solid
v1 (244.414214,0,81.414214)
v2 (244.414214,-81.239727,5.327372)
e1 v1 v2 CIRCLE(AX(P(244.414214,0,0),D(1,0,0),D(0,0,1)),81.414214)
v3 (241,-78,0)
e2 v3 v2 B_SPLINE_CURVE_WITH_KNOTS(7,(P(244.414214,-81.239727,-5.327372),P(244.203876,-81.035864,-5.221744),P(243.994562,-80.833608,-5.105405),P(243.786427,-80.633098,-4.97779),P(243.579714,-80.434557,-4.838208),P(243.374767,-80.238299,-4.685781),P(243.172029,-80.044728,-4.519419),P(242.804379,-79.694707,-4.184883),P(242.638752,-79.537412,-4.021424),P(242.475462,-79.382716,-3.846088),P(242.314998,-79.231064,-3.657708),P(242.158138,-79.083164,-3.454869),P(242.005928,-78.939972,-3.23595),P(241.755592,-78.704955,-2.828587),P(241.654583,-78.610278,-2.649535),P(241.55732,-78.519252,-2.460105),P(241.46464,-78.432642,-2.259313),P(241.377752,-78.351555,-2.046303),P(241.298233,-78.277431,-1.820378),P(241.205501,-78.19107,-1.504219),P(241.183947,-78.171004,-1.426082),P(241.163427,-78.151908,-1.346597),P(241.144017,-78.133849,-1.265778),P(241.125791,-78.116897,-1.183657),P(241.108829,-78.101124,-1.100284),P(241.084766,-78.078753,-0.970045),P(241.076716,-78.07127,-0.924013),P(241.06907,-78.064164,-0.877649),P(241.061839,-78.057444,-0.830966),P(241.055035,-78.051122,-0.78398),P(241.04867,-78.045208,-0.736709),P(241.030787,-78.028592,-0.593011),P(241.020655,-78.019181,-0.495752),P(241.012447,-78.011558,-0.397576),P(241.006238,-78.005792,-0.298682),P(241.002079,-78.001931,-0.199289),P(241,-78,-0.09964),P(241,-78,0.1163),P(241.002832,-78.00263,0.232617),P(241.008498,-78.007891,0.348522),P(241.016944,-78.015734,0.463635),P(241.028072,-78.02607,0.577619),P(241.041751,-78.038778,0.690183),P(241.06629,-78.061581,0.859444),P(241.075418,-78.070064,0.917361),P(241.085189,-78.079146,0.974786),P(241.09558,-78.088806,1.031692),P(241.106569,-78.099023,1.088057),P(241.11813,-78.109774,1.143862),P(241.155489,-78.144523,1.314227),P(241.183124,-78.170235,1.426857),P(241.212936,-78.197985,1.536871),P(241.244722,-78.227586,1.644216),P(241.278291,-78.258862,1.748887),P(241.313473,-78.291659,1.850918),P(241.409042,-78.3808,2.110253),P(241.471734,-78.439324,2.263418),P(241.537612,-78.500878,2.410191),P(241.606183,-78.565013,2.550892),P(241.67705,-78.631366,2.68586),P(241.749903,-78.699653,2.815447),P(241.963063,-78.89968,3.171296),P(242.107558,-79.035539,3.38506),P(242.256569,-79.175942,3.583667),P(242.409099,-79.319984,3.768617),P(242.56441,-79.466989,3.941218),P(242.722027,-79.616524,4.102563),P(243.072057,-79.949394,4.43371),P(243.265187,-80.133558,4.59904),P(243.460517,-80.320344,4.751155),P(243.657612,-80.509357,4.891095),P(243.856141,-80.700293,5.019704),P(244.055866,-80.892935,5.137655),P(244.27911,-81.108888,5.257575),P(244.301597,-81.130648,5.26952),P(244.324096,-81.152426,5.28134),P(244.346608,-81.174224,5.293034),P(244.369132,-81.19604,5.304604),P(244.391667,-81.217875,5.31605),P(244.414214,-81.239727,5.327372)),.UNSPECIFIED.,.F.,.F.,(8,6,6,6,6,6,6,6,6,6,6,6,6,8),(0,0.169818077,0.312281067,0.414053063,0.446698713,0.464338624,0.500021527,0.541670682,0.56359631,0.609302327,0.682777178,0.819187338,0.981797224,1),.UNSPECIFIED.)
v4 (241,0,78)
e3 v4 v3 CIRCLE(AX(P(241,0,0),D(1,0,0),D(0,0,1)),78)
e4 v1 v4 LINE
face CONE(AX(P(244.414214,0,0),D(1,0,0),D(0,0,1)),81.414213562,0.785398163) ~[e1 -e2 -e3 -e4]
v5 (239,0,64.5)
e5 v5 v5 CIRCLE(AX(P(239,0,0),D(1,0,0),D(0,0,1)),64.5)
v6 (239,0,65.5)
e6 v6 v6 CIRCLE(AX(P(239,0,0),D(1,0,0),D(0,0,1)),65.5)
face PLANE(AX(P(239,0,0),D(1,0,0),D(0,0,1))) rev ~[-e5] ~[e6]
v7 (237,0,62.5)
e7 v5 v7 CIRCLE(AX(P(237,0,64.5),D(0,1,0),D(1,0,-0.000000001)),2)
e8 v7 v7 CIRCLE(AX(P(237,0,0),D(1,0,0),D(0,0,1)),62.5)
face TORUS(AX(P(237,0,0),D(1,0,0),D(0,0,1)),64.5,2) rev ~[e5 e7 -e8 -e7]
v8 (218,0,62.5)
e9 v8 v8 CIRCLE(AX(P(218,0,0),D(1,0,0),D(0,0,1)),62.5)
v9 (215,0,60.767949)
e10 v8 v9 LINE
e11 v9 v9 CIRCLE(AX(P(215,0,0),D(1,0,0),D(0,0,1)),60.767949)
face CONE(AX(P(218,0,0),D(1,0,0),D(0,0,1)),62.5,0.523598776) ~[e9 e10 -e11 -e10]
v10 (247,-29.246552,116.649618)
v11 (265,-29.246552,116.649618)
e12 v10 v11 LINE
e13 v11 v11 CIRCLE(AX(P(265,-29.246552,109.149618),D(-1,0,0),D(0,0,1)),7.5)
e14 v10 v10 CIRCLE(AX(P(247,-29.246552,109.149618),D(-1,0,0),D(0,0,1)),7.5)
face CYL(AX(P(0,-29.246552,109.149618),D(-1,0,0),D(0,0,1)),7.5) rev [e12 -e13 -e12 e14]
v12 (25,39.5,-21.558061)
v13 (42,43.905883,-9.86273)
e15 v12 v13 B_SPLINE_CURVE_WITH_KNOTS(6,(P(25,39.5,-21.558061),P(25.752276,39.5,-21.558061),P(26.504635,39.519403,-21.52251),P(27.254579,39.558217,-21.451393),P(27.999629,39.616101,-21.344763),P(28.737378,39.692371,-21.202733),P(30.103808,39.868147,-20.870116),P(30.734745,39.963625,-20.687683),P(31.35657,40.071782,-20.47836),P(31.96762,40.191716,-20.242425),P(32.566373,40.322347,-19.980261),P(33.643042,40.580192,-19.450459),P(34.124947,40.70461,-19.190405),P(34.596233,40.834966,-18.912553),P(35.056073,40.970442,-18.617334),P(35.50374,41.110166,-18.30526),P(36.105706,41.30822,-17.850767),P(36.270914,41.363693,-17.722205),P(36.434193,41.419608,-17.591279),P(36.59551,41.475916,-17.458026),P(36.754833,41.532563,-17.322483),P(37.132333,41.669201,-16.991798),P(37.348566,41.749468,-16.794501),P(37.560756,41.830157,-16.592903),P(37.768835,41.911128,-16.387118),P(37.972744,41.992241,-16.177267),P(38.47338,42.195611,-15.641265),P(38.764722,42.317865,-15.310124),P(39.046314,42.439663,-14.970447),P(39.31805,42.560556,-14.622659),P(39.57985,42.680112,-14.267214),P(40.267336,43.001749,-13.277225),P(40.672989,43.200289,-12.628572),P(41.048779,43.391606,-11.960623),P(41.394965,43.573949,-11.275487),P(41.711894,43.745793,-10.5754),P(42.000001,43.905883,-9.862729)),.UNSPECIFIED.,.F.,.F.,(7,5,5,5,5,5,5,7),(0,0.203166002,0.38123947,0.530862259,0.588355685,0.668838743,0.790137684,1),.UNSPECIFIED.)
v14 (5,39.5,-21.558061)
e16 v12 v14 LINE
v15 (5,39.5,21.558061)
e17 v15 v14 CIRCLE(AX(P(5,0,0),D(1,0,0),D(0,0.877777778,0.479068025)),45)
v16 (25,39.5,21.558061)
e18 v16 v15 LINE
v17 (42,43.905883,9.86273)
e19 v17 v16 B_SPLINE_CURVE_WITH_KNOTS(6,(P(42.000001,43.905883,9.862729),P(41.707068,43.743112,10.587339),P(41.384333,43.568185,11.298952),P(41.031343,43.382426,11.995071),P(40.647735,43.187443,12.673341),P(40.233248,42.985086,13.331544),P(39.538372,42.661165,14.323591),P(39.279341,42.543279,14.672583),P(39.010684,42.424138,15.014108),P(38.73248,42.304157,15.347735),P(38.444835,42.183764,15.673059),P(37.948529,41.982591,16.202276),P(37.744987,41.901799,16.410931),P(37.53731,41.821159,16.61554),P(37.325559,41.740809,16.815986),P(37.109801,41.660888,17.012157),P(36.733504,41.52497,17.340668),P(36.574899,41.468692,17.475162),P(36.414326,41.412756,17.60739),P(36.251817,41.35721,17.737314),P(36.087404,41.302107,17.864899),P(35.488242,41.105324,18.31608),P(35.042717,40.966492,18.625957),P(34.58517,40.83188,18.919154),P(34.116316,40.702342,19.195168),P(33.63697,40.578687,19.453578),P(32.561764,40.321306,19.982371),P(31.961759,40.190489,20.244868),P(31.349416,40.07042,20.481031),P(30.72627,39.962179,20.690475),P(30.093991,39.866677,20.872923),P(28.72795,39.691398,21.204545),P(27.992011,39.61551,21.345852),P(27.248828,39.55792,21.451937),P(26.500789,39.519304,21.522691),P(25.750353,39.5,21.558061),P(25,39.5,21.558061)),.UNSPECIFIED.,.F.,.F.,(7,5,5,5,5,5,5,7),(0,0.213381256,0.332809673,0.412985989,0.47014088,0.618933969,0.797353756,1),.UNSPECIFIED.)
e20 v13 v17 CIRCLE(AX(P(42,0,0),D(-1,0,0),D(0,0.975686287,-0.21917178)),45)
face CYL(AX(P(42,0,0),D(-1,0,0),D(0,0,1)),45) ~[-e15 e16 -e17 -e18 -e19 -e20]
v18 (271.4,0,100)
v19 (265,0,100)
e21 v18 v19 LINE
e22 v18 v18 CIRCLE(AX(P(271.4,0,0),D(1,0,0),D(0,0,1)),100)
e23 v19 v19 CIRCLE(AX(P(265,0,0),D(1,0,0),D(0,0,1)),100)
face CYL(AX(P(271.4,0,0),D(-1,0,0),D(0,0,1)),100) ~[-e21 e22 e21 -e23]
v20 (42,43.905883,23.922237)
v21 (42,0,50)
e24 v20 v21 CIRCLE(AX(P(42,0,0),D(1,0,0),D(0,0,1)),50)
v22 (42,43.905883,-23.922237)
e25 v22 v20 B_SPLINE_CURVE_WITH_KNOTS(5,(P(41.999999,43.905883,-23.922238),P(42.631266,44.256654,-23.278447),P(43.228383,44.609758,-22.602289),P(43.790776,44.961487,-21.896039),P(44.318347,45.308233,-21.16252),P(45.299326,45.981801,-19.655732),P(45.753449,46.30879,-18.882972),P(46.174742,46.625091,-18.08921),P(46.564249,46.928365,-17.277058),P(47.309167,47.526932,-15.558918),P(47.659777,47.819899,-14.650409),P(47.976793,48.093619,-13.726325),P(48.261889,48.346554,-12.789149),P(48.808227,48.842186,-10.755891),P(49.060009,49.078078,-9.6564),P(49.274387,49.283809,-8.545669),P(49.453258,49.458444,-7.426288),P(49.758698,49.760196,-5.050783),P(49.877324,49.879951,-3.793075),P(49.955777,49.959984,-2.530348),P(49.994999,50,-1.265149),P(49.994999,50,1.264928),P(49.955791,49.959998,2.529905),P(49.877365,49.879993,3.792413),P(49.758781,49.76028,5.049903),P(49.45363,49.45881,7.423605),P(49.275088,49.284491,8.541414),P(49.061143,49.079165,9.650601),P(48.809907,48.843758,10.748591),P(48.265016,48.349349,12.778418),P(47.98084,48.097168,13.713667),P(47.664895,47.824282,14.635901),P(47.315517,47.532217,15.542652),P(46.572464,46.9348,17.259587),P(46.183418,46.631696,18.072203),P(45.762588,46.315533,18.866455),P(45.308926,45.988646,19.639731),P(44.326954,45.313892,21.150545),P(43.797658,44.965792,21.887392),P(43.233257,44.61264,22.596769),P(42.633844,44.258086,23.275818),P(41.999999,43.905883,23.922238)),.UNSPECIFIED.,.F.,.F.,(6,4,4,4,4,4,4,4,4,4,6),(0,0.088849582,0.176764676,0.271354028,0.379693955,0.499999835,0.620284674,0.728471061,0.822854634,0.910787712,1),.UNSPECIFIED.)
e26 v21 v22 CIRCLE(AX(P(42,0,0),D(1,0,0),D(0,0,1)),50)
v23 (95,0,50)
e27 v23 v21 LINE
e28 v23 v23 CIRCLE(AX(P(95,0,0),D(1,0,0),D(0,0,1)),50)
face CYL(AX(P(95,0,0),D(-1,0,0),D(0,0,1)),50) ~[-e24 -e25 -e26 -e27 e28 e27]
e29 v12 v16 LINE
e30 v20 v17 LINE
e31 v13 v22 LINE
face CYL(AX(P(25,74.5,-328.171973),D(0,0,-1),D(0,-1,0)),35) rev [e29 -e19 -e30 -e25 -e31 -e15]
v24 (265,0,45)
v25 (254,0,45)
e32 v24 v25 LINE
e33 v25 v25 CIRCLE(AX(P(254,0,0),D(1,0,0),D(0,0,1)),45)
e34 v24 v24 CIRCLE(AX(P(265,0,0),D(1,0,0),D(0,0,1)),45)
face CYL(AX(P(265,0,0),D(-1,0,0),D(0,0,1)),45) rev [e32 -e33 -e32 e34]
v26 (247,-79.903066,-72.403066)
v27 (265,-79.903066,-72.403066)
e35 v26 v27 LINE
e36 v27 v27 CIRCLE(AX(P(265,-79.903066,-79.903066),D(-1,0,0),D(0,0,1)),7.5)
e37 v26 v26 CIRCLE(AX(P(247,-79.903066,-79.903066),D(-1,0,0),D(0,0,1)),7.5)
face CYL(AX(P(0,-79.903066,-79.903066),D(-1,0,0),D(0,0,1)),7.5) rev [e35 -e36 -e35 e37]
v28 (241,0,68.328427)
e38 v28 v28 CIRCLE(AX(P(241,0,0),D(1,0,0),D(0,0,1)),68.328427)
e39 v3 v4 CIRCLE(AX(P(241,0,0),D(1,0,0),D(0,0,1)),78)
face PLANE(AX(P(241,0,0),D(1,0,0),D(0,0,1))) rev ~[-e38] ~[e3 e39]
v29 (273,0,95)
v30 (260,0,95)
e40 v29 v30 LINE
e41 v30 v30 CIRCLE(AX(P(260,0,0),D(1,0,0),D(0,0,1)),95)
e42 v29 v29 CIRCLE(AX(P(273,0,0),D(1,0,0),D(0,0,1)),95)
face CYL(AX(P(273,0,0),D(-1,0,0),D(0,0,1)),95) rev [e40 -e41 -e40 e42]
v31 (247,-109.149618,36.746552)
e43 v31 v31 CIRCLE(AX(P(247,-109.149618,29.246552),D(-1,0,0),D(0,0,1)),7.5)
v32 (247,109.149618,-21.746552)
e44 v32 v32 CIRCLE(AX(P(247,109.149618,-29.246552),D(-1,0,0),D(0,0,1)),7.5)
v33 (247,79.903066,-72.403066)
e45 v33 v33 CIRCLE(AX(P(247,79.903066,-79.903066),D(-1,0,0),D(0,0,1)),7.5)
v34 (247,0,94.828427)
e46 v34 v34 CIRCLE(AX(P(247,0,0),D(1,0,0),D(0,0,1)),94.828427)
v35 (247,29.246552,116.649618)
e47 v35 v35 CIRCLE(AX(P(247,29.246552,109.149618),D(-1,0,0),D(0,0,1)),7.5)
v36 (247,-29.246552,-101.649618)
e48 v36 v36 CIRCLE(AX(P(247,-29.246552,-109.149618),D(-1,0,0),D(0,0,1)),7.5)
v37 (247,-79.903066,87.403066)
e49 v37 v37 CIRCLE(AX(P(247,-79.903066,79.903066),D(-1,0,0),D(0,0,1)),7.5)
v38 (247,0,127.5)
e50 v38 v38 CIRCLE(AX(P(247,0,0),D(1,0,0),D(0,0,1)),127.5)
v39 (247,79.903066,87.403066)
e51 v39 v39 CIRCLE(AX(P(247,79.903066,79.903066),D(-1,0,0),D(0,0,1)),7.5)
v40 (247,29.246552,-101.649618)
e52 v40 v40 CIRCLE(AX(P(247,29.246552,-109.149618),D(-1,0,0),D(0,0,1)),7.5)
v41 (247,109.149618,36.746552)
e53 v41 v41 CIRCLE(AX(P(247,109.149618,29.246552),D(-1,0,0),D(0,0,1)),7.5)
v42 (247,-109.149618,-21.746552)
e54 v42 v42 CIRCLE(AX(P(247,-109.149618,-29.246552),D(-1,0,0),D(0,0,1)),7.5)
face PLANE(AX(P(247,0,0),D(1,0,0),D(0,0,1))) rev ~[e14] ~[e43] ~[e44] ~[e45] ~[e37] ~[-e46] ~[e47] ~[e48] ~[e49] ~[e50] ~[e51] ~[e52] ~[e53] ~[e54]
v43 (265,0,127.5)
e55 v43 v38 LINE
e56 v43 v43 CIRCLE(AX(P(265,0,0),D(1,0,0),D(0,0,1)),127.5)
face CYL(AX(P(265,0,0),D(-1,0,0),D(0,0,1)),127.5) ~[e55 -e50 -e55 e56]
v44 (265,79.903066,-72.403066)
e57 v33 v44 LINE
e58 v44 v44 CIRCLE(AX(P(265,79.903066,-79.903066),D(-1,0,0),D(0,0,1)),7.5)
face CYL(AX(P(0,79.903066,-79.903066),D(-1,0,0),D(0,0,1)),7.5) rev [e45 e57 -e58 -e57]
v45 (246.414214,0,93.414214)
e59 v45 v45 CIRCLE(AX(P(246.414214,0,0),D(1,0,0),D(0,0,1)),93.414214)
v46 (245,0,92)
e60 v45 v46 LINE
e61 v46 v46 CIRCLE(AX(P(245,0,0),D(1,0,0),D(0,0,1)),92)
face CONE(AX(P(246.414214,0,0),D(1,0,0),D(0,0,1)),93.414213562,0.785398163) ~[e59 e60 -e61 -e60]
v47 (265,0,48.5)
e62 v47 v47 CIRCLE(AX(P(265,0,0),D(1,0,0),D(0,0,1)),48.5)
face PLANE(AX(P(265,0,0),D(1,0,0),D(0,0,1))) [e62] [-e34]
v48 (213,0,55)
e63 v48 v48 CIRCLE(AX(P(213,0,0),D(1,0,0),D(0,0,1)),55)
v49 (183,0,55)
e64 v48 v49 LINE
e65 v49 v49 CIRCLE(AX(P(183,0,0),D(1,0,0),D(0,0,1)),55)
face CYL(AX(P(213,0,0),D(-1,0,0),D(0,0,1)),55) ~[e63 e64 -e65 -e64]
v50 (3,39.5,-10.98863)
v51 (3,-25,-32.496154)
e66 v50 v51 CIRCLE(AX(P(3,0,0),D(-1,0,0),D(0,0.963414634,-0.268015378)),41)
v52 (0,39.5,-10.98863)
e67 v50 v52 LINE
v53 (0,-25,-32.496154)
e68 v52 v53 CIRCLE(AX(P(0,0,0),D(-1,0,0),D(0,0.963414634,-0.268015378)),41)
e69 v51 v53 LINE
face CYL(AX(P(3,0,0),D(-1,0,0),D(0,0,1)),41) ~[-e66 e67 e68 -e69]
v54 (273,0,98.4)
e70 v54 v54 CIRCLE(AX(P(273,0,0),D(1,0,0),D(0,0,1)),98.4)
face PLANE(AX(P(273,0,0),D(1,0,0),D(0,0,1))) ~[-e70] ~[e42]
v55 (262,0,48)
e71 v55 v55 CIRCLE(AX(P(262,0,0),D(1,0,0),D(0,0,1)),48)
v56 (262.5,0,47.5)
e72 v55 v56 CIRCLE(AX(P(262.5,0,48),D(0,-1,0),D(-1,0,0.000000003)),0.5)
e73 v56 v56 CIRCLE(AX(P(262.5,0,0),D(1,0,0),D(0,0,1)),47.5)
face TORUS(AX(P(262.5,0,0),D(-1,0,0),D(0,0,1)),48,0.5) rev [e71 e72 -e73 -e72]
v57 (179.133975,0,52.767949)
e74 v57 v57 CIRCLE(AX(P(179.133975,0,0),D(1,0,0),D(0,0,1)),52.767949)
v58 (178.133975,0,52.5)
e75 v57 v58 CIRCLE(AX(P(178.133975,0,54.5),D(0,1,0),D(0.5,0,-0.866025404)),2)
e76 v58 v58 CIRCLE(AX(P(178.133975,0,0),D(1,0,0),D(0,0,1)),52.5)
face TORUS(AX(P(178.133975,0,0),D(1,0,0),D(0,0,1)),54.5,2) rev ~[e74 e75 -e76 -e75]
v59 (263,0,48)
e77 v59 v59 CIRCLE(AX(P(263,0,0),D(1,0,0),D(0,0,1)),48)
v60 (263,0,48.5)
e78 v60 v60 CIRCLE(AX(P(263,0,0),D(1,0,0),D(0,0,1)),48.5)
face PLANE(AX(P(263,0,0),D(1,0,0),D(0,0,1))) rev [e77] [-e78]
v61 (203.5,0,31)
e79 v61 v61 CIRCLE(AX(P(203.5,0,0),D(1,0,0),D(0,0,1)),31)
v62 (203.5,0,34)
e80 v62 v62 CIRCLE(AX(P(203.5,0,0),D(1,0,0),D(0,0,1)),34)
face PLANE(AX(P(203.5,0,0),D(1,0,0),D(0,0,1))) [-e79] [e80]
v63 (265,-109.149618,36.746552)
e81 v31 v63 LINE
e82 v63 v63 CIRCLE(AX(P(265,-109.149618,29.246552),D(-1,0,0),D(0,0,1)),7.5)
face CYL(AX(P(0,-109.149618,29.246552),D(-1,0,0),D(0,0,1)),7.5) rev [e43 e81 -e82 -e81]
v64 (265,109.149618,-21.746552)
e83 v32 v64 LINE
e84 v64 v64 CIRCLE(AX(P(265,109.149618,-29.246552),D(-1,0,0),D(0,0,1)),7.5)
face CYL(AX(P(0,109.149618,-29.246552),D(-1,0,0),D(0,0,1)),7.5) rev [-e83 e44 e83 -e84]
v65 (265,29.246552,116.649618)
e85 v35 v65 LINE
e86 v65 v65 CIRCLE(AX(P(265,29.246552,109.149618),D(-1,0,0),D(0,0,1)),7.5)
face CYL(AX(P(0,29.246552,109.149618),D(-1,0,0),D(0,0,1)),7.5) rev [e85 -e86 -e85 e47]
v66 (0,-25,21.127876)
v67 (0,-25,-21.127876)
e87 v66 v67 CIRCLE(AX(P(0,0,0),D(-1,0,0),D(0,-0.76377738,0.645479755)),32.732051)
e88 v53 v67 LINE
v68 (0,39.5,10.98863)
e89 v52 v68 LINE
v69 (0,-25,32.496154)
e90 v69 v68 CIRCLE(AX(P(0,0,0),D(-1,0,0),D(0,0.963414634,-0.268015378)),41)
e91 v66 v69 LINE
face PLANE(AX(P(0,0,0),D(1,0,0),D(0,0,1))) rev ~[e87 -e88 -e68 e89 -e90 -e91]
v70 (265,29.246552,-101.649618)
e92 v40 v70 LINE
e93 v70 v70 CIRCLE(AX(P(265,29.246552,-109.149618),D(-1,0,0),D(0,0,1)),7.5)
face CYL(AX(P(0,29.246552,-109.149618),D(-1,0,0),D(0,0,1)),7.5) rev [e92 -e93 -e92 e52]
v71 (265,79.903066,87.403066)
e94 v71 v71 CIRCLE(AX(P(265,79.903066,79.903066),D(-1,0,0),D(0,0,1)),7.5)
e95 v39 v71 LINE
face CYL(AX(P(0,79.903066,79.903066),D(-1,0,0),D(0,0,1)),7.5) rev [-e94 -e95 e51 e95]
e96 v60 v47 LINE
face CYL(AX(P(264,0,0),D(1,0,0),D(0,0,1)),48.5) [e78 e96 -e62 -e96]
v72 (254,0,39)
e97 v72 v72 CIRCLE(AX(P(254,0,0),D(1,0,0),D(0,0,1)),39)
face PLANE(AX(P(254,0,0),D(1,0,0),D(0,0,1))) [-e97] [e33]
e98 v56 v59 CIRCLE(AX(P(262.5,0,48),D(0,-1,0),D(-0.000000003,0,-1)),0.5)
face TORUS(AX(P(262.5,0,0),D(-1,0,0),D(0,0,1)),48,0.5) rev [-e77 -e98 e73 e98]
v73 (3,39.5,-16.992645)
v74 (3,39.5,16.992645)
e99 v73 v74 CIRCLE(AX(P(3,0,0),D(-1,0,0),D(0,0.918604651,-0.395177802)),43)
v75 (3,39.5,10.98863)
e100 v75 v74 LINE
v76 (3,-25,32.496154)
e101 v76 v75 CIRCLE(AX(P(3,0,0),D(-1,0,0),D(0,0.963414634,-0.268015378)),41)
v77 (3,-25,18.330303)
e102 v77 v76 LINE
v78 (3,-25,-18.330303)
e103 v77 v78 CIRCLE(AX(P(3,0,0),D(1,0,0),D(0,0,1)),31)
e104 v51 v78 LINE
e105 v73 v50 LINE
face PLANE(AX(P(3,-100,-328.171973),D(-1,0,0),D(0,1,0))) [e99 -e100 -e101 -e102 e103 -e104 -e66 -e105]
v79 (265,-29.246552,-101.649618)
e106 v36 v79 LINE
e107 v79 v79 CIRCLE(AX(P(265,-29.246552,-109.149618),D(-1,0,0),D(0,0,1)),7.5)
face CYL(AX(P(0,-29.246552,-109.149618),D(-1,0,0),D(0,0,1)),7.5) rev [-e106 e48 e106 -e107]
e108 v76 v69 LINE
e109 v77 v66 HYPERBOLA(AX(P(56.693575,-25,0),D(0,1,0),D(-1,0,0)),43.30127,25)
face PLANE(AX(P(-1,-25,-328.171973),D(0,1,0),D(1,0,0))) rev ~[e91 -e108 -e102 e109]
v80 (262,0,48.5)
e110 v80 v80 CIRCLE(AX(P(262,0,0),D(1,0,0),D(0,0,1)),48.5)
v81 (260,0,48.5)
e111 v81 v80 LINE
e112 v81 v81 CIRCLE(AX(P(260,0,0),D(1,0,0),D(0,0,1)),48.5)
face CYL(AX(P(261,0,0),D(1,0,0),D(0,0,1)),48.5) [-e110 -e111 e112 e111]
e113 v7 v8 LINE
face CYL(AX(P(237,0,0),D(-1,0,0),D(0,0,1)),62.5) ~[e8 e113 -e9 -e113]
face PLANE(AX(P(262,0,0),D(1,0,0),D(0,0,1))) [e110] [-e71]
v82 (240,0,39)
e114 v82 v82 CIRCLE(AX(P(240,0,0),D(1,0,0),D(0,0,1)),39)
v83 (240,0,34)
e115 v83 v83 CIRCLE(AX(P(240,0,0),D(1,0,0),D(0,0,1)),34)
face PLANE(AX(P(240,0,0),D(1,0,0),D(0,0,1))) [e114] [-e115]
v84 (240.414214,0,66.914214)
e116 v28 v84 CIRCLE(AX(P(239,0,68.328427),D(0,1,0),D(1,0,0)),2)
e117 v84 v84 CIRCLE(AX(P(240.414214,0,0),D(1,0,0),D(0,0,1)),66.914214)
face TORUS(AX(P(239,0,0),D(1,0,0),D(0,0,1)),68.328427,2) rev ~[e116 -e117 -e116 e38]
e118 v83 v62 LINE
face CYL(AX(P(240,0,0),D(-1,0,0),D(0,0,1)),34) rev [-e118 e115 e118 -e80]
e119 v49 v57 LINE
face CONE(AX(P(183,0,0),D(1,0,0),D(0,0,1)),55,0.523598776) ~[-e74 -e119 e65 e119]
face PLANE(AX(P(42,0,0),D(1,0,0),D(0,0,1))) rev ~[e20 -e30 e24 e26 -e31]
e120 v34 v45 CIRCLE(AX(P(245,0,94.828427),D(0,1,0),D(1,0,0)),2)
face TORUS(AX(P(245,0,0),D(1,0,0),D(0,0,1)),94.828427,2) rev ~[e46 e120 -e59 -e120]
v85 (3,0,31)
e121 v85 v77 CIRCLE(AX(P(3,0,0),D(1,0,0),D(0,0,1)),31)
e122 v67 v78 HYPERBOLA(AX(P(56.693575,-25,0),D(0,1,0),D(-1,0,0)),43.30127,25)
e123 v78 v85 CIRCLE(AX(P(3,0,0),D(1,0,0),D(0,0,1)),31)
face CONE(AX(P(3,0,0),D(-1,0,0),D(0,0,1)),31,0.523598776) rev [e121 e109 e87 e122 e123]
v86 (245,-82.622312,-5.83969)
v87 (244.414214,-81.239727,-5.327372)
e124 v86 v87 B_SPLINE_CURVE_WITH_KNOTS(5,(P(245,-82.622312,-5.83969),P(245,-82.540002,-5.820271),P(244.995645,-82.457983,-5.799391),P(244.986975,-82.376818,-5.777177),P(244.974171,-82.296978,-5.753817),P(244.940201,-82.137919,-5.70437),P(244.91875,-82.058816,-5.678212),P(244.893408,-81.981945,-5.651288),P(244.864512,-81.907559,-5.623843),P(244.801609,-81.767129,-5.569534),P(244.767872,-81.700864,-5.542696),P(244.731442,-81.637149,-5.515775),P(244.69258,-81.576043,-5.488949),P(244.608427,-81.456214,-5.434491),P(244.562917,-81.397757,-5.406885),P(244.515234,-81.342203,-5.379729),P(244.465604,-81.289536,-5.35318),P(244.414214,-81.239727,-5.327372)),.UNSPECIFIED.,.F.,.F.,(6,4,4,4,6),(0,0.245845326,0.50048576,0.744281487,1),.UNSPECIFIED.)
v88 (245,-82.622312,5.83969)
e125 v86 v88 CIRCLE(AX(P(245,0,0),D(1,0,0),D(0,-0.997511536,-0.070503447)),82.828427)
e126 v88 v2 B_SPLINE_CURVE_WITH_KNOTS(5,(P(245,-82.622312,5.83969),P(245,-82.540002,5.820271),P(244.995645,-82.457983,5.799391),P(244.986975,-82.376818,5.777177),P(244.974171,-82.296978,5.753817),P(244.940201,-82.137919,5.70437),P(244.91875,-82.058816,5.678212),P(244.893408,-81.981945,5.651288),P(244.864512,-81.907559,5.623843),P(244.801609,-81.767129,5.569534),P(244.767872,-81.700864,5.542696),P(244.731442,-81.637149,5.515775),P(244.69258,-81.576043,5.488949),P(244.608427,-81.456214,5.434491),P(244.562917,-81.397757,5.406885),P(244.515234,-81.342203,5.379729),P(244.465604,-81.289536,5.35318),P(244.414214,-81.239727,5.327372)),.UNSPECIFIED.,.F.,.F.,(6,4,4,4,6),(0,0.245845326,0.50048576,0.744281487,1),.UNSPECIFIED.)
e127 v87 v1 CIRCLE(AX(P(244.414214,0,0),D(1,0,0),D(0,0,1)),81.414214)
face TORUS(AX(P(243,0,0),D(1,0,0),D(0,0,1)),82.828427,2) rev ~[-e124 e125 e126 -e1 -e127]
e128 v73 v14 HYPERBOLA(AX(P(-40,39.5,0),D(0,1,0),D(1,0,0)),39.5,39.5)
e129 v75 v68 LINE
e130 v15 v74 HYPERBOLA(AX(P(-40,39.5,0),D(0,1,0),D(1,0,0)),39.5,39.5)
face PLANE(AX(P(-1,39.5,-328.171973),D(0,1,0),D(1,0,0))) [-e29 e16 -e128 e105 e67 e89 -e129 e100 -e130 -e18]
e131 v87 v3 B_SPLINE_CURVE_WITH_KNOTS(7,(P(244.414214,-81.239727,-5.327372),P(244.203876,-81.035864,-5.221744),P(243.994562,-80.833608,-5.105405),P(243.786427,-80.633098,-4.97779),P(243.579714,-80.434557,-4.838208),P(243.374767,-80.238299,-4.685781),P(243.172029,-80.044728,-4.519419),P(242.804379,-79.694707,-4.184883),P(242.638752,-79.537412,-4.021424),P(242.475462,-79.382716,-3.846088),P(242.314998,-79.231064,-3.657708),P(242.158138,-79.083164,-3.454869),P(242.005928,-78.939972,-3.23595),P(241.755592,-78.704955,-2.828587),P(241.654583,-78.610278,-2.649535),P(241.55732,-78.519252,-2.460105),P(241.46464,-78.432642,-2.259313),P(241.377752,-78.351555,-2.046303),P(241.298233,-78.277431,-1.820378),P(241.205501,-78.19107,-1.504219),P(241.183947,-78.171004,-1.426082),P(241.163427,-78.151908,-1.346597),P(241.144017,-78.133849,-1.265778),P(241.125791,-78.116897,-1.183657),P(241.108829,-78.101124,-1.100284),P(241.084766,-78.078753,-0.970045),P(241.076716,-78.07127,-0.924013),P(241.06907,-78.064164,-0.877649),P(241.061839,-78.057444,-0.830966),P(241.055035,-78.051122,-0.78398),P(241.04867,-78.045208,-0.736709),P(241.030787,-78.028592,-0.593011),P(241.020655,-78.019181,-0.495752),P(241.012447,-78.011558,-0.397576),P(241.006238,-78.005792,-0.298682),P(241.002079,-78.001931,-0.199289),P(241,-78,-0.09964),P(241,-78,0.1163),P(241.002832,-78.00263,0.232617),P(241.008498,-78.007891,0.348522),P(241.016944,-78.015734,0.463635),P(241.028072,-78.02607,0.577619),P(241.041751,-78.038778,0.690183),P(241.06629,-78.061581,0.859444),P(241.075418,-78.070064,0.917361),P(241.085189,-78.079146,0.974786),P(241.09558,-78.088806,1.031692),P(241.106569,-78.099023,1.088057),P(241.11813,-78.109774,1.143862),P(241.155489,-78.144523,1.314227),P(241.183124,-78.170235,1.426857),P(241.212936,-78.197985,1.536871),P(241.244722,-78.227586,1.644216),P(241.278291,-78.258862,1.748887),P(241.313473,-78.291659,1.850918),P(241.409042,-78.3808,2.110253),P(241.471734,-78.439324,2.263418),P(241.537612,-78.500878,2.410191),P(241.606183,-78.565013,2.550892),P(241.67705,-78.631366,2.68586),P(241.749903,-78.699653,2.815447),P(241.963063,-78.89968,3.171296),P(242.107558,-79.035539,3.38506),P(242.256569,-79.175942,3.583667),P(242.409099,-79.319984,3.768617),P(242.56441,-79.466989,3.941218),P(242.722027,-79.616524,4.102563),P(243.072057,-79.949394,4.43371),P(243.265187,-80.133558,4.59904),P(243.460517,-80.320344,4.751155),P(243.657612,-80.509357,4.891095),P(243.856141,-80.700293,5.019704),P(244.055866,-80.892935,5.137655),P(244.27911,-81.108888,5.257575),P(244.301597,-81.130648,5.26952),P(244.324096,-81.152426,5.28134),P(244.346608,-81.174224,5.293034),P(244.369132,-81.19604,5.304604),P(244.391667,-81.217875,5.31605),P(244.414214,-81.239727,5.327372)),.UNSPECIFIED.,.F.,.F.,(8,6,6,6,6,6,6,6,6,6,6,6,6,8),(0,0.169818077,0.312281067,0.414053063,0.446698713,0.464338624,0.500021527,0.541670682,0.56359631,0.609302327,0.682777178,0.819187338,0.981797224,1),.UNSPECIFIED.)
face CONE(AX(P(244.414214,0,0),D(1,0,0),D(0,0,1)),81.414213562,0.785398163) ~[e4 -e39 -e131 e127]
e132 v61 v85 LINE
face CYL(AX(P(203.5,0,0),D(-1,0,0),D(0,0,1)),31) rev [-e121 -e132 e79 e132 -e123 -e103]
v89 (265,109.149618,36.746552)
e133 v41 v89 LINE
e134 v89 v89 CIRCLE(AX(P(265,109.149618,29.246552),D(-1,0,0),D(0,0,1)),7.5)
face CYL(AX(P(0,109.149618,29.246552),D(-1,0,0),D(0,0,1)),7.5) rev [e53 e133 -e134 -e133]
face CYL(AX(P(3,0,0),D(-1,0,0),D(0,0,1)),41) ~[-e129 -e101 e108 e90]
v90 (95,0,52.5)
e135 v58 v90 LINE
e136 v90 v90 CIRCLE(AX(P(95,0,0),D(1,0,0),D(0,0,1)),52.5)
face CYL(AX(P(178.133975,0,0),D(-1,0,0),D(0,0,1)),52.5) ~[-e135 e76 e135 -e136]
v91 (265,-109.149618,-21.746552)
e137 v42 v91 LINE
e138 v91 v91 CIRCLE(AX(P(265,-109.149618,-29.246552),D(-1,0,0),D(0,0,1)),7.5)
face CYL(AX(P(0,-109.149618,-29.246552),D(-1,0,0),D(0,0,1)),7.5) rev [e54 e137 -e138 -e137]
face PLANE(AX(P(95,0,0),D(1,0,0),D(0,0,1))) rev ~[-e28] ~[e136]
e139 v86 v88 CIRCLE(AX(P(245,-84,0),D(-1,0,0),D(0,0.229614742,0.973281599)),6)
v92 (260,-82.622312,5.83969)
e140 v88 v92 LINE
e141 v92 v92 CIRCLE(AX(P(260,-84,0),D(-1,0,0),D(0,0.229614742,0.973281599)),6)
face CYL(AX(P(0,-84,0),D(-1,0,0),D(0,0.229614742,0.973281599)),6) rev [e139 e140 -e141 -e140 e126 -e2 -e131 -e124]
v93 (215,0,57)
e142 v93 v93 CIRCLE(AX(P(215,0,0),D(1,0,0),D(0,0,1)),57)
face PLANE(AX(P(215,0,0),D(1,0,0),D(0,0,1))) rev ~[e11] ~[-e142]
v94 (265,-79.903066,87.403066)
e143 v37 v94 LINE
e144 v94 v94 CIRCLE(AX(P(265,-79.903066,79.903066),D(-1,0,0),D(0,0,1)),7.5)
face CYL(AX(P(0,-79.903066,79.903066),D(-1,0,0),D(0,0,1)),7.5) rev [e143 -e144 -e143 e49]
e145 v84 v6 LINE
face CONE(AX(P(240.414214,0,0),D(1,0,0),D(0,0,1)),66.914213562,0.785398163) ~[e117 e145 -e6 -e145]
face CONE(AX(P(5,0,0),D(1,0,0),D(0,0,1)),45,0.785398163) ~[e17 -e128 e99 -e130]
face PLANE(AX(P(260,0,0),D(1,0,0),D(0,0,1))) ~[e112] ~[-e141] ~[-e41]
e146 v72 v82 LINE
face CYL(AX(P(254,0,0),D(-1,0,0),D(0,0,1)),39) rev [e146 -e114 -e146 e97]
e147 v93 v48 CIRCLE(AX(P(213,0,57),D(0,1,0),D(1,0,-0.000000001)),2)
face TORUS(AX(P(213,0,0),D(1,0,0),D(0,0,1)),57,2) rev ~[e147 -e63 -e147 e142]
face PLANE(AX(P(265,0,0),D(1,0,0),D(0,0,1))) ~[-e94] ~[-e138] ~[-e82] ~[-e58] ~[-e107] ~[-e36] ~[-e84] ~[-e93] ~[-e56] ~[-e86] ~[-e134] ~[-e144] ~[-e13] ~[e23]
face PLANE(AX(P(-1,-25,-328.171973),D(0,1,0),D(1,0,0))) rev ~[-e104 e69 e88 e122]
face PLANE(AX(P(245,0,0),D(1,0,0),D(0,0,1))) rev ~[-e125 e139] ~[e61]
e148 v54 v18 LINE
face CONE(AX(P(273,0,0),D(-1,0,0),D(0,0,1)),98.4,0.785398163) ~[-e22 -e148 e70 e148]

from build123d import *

# Parameters (mm, degrees)
SKETCH_3_W                    = 2
SKETCH_3_H                    = 46.5
SKETCH_5_W                    = 2
SKETCH_5_H                    = 46.5
SKETCH_6_R                    = 7.5
CUT_EXTRUDE_1_DEPTH           = 328.171973127
SKETCH_7_R                    = 7.5
CUT_EXTRUDE_2_DEPTH           = 328.171973127
SKETCH_8_R                    = 7.5
CUT_EXTRUDE_3_DEPTH           = 328.171973127
SKETCH_9_R                    = 7.5
CUT_EXTRUDE_4_DEPTH           = 328.171973127
SKETCH_10_R                   = 7.5
CUT_EXTRUDE_5_DEPTH           = 328.171973127
SKETCH_11_R                   = 7.5
CUT_EXTRUDE_6_DEPTH           = 328.171973127
SKETCH_12_R                   = 7.5
CUT_EXTRUDE_7_DEPTH           = 328.171973127
SKETCH_13_R                   = 7.5
CUT_EXTRUDE_8_DEPTH           = 328.171973127
SKETCH_14_R                   = 7.5
CUT_EXTRUDE_9_DEPTH           = 328.171973127
SKETCH_15_R                   = 7.5
CUT_EXTRUDE_10_DEPTH          = 328.171973127
SKETCH_16_R                   = 7.5
CUT_EXTRUDE_11_DEPTH          = 328.171973127
SKETCH_17_R                   = 7.5
CUT_EXTRUDE_12_DEPTH          = 328.171973127
SKETCH_18_R                   = 6
CUT_EXTRUDE_13_DEPTH          = 328.171973127
LEFT_FLAT_84_5_R35_DEPTH      = 328.171973127
LEFT_FLAT_84_5_R35_DEPTH_BACK = 328.171973127
LEFT_END_BOTTOM_20_DEPTH      = 328.171973127
LEFT_END_BOTTOM_20_DEPTH_BACK = 328.171973127
SKETCH_20_W                   = 4
SKETCH_20_H                   = 75


with BuildPart() as part:
    # Эскиз1 → Повернуть1 (revolve)
    with BuildSketch(Plane.XY, mode=Mode.PRIVATE) as revolve_1_sk:
        with BuildLine():
            Line((0, 0), (273, 0))
            Line((273, 0), (273, 98.4))
            Line((273, 98.4), (271.4, 100))
            Line((271.4, 100), (265, 100))
            Line((265, 100), (265, 127.5))
            Line((265, 127.5), (247, 127.5))
            Line((247, 127.5), (247, 94.828427125))
            ThreePointArc((247, 94.828427125), (246.847759065, 94.06306026), (246.414213562, 93.414213562))
            Line((246.414213562, 93.414213562), (245, 92))
            Line((245, 92), (245, 82.828427125))
            ThreePointArc((245, 82.828427125), (244.847759065, 82.06306026), (244.414213562, 81.414213562))
            Line((244.414213562, 81.414213562), (241, 78))
            Line((241, 78), (241, 68.328427125))
            ThreePointArc((241, 68.328427125), (240.847759065, 67.56306026), (240.414213562, 66.914213562))
            Line((240.414213562, 66.914213562), (239, 65.5))
            Line((239, 65.5), (239, 64.5))
            ThreePointArc((239, 64.5), (238.414213562, 63.085786438), (237, 62.5))
            Line((237, 62.5), (218, 62.5))
            Line((218, 62.5), (215, 60.767949192))
            Line((215, 60.767949192), (215, 57))
            ThreePointArc((215, 57), (214.414213562, 55.585786438), (213, 55))
            Line((213, 55), (183, 55))
            Line((183, 55), (179.133974596, 52.767949192))
            ThreePointArc((179.133974596, 52.767949192), (178.651612686, 52.568148347), (178.133974596, 52.5))
            Line((178.133974596, 52.5), (95, 52.5))
            Line((95, 52.5), (95, 50))
            Line((95, 50), (42, 50))
            Line((42, 50), (42, 45))
            Line((42, 45), (5, 45))
            Line((5, 45), (3, 43))
            Line((3, 43), (3, 41))
            Line((3, 41), (0, 41))
            Line((0, 41), (0, 0))
        make_face()
    revolve(revolve_1_sk.sketch.rotate(Axis((0, 0, 0), (1, 0, 0)), 90), axis=Axis((0, 0, 0), (1, 0, 0)))

    # Эскиз2 → Вырез-Повернуть1 (revolve, cut)
    with BuildSketch(Plane.XY, mode=Mode.PRIVATE) as cut_revolve_1_sk:
        Polygon((0, 0), (273, 0), (273, 95), (265, 95), (265, 45), (254, 45), (254, 39), (240, 39), (240, 34), (203.5, 34), (203.5, 31), (3, 31), (0, 32.732050808), align=None)
    revolve(cut_revolve_1_sk.sketch.rotate(Axis((0, 0, 0), (1, 0, 0)), 90), axis=Axis((0, 0, 0), (1, 0, 0)), mode=Mode.SUBTRACT)

    # Эскиз3 → Rear_recess_left (revolve, cut)
    with BuildSketch(Plane.XY, mode=Mode.PRIVATE) as rear_recess_left_sk:
        with Locations((261, 71.75)):
            Rectangle(SKETCH_3_W, SKETCH_3_H)
    revolve(rear_recess_left_sk.sketch.rotate(Axis((0, 0, 0), (1, 0, 0)), 90), axis=Axis((0, 0, 0), (1, 0, 0)), mode=Mode.SUBTRACT)

    # Эскиз4 → Collar_groove_nominal (revolve, cut)
    with BuildSketch(Plane.XY, mode=Mode.PRIVATE) as collar_groove_nominal_sk:
        with BuildLine():
            Line((263, 48), (263, 95))
            Line((263, 95), (262, 95))
            Line((262, 95), (262, 48))
            ThreePointArc((262, 48), (262.146446609, 47.646446609), (262.5, 47.5))
            ThreePointArc((262.5, 47.5), (262.853553391, 47.646446609), (263, 48))
        make_face()
    revolve(collar_groove_nominal_sk.sketch.rotate(Axis((0, 0, 0), (1, 0, 0)), 90), axis=Axis((0, 0, 0), (1, 0, 0)), mode=Mode.SUBTRACT)

    # Эскиз5 → Rear_recess_lip (revolve, cut)
    with BuildSketch(Plane.XY, mode=Mode.PRIVATE) as rear_recess_lip_sk:
        with Locations((264, 71.75)):
            Rectangle(SKETCH_5_W, SKETCH_5_H)
    revolve(rear_recess_lip_sk.sketch.rotate(Axis((0, 0, 0), (1, 0, 0)), 90), axis=Axis((0, 0, 0), (1, 0, 0)), mode=Mode.SUBTRACT)

    # Эскиз6 → Вырез-Вытянуть1 (cut, through all)
    with BuildSketch(Plane(origin=(0, 0, 0), x_dir=(0, 0, -1), z_dir=(1, 0, 0))):
        with Locations(Location((109.149618371, 29.246552097, 0), (0, 0, 180))):
            Circle(SKETCH_6_R)
    extrude(amount=CUT_EXTRUDE_1_DEPTH, mode=Mode.SUBTRACT)

    # Эскиз7 → Вырез-Вытянуть2 (cut, through all)
    with BuildSketch(Plane(origin=(0, 0, 0), x_dir=(0, 0, -1), z_dir=(1, 0, 0))):
        with Locations(Location((79.903066274, 79.903066274, 0), (0, 0, 180))):
            Circle(SKETCH_7_R)
    extrude(amount=CUT_EXTRUDE_2_DEPTH, mode=Mode.SUBTRACT)

    # Эскиз8 → Вырез-Вытянуть3 (cut, through all)
    with BuildSketch(Plane(origin=(0, 0, 0), x_dir=(0, 0, -1), z_dir=(1, 0, 0))):
        with Locations(Location((29.246552097, 109.149618371, 0), (0, 0, 180))):
            Circle(SKETCH_8_R)
    extrude(amount=CUT_EXTRUDE_3_DEPTH, mode=Mode.SUBTRACT)

    # Эскиз9 → Вырез-Вытянуть4 (cut, through all)
    with BuildSketch(Plane(origin=(0, 0, 0), x_dir=(0, 0, -1), z_dir=(1, 0, 0))):
        with Locations(Location((-29.246552097, 109.149618371, 0), (0, 0, 180))):
            Circle(SKETCH_9_R)
    extrude(amount=CUT_EXTRUDE_4_DEPTH, mode=Mode.SUBTRACT)

    # Эскиз10 → Вырез-Вытянуть5 (cut, through all)
    with BuildSketch(Plane(origin=(0, 0, 0), x_dir=(0, 0, -1), z_dir=(1, 0, 0))):
        with Locations(Location((-79.903066274, 79.903066274, 0), (0, 0, 180))):
            Circle(SKETCH_10_R)
    extrude(amount=CUT_EXTRUDE_5_DEPTH, mode=Mode.SUBTRACT)

    # Эскиз11 → Вырез-Вытянуть6 (cut, through all)
    with BuildSketch(Plane(origin=(0, 0, 0), x_dir=(0, 0, -1), z_dir=(1, 0, 0))):
        with Locations(Location((-109.149618371, 29.246552097, 0), (0, 0, 180))):
            Circle(SKETCH_11_R)
    extrude(amount=CUT_EXTRUDE_6_DEPTH, mode=Mode.SUBTRACT)

    # Эскиз12 → Вырез-Вытянуть7 (cut, through all)
    with BuildSketch(Plane(origin=(0, 0, 0), x_dir=(0, 0, -1), z_dir=(1, 0, 0))):
        with Locations(Location((-109.149618371, -29.246552097, 0), (0, 0, 180))):
            Circle(SKETCH_12_R)
    extrude(amount=CUT_EXTRUDE_7_DEPTH, mode=Mode.SUBTRACT)

    # Эскиз13 → Вырез-Вытянуть8 (cut, through all)
    with BuildSketch(Plane(origin=(0, 0, 0), x_dir=(0, 0, -1), z_dir=(1, 0, 0))):
        with Locations(Location((-79.903066274, -79.903066274, 0), (0, 0, 180))):
            Circle(SKETCH_13_R)
    extrude(amount=CUT_EXTRUDE_8_DEPTH, mode=Mode.SUBTRACT)

    # Эскиз14 → Вырез-Вытянуть9 (cut, through all)
    with BuildSketch(Plane(origin=(0, 0, 0), x_dir=(0, 0, -1), z_dir=(1, 0, 0))):
        with Locations(Location((-29.246552097, -109.149618371, 0), (0, 0, 180))):
            Circle(SKETCH_14_R)
    extrude(amount=CUT_EXTRUDE_9_DEPTH, mode=Mode.SUBTRACT)

    # Эскиз15 → Вырез-Вытянуть10 (cut, through all)
    with BuildSketch(Plane(origin=(0, 0, 0), x_dir=(0, 0, -1), z_dir=(1, 0, 0))):
        with Locations(Location((29.246552097, -109.149618371, 0), (0, 0, 180))):
            Circle(SKETCH_15_R)
    extrude(amount=CUT_EXTRUDE_10_DEPTH, mode=Mode.SUBTRACT)

    # Эскиз16 → Вырез-Вытянуть11 (cut, through all)
    with BuildSketch(Plane(origin=(0, 0, 0), x_dir=(0, 0, -1), z_dir=(1, 0, 0))):
        with Locations(Location((79.903066274, -79.903066274, 0), (0, 0, 180))):
            Circle(SKETCH_16_R)
    extrude(amount=CUT_EXTRUDE_11_DEPTH, mode=Mode.SUBTRACT)

    # Эскиз17 → Вырез-Вытянуть12 (cut, through all)
    with BuildSketch(Plane(origin=(0, 0, 0), x_dir=(0, 0, -1), z_dir=(1, 0, 0))):
        with Locations(Location((109.149618371, -29.246552097, 0), (0, 0, 180))):
            Circle(SKETCH_17_R)
    extrude(amount=CUT_EXTRUDE_12_DEPTH, mode=Mode.SUBTRACT)

    # Эскиз18 → Вырез-Вытянуть13 (cut, through all)
    with BuildSketch(Plane(origin=(0, 0, 0), x_dir=(0, 0, -1), z_dir=(1, 0, 0))):
        with Locations(Location((0, -84, 0), (0, 0, 166.725608927))):
            Circle(SKETCH_18_R)
    extrude(amount=CUT_EXTRUDE_13_DEPTH, mode=Mode.SUBTRACT)

    # Эскиз19 → Left_flat_84_5_R35 (cut, two sides: drawn at the far end of the back side and taken through both)
    with BuildSketch(Plane.XY.offset(-LEFT_FLAT_84_5_R35_DEPTH_BACK)):
        with BuildLine():
            Line((-1, 39.5), (25, 39.5))
            ThreePointArc((25, 39.5), (49.748737342, 49.751262658), (60, 74.5))
            Line((60, 74.5), (60, 150))
            Line((60, 150), (-1, 150))
            Line((-1, 150), (-1, 39.5))
        make_face()
    extrude(amount=LEFT_FLAT_84_5_R35_DEPTH + LEFT_FLAT_84_5_R35_DEPTH_BACK, mode=Mode.SUBTRACT)

    # Эскиз20 → Left_end_bottom_20 (cut, two sides: drawn at the far end of the back side and taken through both)
    with BuildSketch(Plane.XY.offset(-LEFT_END_BOTTOM_20_DEPTH_BACK)):
        with Locations((1, -62.5)):
            Rectangle(SKETCH_20_W, SKETCH_20_H)
    extrude(amount=LEFT_END_BOTTOM_20_DEPTH + LEFT_END_BOTTOM_20_DEPTH_BACK, mode=Mode.SUBTRACT)


solid = part.part
